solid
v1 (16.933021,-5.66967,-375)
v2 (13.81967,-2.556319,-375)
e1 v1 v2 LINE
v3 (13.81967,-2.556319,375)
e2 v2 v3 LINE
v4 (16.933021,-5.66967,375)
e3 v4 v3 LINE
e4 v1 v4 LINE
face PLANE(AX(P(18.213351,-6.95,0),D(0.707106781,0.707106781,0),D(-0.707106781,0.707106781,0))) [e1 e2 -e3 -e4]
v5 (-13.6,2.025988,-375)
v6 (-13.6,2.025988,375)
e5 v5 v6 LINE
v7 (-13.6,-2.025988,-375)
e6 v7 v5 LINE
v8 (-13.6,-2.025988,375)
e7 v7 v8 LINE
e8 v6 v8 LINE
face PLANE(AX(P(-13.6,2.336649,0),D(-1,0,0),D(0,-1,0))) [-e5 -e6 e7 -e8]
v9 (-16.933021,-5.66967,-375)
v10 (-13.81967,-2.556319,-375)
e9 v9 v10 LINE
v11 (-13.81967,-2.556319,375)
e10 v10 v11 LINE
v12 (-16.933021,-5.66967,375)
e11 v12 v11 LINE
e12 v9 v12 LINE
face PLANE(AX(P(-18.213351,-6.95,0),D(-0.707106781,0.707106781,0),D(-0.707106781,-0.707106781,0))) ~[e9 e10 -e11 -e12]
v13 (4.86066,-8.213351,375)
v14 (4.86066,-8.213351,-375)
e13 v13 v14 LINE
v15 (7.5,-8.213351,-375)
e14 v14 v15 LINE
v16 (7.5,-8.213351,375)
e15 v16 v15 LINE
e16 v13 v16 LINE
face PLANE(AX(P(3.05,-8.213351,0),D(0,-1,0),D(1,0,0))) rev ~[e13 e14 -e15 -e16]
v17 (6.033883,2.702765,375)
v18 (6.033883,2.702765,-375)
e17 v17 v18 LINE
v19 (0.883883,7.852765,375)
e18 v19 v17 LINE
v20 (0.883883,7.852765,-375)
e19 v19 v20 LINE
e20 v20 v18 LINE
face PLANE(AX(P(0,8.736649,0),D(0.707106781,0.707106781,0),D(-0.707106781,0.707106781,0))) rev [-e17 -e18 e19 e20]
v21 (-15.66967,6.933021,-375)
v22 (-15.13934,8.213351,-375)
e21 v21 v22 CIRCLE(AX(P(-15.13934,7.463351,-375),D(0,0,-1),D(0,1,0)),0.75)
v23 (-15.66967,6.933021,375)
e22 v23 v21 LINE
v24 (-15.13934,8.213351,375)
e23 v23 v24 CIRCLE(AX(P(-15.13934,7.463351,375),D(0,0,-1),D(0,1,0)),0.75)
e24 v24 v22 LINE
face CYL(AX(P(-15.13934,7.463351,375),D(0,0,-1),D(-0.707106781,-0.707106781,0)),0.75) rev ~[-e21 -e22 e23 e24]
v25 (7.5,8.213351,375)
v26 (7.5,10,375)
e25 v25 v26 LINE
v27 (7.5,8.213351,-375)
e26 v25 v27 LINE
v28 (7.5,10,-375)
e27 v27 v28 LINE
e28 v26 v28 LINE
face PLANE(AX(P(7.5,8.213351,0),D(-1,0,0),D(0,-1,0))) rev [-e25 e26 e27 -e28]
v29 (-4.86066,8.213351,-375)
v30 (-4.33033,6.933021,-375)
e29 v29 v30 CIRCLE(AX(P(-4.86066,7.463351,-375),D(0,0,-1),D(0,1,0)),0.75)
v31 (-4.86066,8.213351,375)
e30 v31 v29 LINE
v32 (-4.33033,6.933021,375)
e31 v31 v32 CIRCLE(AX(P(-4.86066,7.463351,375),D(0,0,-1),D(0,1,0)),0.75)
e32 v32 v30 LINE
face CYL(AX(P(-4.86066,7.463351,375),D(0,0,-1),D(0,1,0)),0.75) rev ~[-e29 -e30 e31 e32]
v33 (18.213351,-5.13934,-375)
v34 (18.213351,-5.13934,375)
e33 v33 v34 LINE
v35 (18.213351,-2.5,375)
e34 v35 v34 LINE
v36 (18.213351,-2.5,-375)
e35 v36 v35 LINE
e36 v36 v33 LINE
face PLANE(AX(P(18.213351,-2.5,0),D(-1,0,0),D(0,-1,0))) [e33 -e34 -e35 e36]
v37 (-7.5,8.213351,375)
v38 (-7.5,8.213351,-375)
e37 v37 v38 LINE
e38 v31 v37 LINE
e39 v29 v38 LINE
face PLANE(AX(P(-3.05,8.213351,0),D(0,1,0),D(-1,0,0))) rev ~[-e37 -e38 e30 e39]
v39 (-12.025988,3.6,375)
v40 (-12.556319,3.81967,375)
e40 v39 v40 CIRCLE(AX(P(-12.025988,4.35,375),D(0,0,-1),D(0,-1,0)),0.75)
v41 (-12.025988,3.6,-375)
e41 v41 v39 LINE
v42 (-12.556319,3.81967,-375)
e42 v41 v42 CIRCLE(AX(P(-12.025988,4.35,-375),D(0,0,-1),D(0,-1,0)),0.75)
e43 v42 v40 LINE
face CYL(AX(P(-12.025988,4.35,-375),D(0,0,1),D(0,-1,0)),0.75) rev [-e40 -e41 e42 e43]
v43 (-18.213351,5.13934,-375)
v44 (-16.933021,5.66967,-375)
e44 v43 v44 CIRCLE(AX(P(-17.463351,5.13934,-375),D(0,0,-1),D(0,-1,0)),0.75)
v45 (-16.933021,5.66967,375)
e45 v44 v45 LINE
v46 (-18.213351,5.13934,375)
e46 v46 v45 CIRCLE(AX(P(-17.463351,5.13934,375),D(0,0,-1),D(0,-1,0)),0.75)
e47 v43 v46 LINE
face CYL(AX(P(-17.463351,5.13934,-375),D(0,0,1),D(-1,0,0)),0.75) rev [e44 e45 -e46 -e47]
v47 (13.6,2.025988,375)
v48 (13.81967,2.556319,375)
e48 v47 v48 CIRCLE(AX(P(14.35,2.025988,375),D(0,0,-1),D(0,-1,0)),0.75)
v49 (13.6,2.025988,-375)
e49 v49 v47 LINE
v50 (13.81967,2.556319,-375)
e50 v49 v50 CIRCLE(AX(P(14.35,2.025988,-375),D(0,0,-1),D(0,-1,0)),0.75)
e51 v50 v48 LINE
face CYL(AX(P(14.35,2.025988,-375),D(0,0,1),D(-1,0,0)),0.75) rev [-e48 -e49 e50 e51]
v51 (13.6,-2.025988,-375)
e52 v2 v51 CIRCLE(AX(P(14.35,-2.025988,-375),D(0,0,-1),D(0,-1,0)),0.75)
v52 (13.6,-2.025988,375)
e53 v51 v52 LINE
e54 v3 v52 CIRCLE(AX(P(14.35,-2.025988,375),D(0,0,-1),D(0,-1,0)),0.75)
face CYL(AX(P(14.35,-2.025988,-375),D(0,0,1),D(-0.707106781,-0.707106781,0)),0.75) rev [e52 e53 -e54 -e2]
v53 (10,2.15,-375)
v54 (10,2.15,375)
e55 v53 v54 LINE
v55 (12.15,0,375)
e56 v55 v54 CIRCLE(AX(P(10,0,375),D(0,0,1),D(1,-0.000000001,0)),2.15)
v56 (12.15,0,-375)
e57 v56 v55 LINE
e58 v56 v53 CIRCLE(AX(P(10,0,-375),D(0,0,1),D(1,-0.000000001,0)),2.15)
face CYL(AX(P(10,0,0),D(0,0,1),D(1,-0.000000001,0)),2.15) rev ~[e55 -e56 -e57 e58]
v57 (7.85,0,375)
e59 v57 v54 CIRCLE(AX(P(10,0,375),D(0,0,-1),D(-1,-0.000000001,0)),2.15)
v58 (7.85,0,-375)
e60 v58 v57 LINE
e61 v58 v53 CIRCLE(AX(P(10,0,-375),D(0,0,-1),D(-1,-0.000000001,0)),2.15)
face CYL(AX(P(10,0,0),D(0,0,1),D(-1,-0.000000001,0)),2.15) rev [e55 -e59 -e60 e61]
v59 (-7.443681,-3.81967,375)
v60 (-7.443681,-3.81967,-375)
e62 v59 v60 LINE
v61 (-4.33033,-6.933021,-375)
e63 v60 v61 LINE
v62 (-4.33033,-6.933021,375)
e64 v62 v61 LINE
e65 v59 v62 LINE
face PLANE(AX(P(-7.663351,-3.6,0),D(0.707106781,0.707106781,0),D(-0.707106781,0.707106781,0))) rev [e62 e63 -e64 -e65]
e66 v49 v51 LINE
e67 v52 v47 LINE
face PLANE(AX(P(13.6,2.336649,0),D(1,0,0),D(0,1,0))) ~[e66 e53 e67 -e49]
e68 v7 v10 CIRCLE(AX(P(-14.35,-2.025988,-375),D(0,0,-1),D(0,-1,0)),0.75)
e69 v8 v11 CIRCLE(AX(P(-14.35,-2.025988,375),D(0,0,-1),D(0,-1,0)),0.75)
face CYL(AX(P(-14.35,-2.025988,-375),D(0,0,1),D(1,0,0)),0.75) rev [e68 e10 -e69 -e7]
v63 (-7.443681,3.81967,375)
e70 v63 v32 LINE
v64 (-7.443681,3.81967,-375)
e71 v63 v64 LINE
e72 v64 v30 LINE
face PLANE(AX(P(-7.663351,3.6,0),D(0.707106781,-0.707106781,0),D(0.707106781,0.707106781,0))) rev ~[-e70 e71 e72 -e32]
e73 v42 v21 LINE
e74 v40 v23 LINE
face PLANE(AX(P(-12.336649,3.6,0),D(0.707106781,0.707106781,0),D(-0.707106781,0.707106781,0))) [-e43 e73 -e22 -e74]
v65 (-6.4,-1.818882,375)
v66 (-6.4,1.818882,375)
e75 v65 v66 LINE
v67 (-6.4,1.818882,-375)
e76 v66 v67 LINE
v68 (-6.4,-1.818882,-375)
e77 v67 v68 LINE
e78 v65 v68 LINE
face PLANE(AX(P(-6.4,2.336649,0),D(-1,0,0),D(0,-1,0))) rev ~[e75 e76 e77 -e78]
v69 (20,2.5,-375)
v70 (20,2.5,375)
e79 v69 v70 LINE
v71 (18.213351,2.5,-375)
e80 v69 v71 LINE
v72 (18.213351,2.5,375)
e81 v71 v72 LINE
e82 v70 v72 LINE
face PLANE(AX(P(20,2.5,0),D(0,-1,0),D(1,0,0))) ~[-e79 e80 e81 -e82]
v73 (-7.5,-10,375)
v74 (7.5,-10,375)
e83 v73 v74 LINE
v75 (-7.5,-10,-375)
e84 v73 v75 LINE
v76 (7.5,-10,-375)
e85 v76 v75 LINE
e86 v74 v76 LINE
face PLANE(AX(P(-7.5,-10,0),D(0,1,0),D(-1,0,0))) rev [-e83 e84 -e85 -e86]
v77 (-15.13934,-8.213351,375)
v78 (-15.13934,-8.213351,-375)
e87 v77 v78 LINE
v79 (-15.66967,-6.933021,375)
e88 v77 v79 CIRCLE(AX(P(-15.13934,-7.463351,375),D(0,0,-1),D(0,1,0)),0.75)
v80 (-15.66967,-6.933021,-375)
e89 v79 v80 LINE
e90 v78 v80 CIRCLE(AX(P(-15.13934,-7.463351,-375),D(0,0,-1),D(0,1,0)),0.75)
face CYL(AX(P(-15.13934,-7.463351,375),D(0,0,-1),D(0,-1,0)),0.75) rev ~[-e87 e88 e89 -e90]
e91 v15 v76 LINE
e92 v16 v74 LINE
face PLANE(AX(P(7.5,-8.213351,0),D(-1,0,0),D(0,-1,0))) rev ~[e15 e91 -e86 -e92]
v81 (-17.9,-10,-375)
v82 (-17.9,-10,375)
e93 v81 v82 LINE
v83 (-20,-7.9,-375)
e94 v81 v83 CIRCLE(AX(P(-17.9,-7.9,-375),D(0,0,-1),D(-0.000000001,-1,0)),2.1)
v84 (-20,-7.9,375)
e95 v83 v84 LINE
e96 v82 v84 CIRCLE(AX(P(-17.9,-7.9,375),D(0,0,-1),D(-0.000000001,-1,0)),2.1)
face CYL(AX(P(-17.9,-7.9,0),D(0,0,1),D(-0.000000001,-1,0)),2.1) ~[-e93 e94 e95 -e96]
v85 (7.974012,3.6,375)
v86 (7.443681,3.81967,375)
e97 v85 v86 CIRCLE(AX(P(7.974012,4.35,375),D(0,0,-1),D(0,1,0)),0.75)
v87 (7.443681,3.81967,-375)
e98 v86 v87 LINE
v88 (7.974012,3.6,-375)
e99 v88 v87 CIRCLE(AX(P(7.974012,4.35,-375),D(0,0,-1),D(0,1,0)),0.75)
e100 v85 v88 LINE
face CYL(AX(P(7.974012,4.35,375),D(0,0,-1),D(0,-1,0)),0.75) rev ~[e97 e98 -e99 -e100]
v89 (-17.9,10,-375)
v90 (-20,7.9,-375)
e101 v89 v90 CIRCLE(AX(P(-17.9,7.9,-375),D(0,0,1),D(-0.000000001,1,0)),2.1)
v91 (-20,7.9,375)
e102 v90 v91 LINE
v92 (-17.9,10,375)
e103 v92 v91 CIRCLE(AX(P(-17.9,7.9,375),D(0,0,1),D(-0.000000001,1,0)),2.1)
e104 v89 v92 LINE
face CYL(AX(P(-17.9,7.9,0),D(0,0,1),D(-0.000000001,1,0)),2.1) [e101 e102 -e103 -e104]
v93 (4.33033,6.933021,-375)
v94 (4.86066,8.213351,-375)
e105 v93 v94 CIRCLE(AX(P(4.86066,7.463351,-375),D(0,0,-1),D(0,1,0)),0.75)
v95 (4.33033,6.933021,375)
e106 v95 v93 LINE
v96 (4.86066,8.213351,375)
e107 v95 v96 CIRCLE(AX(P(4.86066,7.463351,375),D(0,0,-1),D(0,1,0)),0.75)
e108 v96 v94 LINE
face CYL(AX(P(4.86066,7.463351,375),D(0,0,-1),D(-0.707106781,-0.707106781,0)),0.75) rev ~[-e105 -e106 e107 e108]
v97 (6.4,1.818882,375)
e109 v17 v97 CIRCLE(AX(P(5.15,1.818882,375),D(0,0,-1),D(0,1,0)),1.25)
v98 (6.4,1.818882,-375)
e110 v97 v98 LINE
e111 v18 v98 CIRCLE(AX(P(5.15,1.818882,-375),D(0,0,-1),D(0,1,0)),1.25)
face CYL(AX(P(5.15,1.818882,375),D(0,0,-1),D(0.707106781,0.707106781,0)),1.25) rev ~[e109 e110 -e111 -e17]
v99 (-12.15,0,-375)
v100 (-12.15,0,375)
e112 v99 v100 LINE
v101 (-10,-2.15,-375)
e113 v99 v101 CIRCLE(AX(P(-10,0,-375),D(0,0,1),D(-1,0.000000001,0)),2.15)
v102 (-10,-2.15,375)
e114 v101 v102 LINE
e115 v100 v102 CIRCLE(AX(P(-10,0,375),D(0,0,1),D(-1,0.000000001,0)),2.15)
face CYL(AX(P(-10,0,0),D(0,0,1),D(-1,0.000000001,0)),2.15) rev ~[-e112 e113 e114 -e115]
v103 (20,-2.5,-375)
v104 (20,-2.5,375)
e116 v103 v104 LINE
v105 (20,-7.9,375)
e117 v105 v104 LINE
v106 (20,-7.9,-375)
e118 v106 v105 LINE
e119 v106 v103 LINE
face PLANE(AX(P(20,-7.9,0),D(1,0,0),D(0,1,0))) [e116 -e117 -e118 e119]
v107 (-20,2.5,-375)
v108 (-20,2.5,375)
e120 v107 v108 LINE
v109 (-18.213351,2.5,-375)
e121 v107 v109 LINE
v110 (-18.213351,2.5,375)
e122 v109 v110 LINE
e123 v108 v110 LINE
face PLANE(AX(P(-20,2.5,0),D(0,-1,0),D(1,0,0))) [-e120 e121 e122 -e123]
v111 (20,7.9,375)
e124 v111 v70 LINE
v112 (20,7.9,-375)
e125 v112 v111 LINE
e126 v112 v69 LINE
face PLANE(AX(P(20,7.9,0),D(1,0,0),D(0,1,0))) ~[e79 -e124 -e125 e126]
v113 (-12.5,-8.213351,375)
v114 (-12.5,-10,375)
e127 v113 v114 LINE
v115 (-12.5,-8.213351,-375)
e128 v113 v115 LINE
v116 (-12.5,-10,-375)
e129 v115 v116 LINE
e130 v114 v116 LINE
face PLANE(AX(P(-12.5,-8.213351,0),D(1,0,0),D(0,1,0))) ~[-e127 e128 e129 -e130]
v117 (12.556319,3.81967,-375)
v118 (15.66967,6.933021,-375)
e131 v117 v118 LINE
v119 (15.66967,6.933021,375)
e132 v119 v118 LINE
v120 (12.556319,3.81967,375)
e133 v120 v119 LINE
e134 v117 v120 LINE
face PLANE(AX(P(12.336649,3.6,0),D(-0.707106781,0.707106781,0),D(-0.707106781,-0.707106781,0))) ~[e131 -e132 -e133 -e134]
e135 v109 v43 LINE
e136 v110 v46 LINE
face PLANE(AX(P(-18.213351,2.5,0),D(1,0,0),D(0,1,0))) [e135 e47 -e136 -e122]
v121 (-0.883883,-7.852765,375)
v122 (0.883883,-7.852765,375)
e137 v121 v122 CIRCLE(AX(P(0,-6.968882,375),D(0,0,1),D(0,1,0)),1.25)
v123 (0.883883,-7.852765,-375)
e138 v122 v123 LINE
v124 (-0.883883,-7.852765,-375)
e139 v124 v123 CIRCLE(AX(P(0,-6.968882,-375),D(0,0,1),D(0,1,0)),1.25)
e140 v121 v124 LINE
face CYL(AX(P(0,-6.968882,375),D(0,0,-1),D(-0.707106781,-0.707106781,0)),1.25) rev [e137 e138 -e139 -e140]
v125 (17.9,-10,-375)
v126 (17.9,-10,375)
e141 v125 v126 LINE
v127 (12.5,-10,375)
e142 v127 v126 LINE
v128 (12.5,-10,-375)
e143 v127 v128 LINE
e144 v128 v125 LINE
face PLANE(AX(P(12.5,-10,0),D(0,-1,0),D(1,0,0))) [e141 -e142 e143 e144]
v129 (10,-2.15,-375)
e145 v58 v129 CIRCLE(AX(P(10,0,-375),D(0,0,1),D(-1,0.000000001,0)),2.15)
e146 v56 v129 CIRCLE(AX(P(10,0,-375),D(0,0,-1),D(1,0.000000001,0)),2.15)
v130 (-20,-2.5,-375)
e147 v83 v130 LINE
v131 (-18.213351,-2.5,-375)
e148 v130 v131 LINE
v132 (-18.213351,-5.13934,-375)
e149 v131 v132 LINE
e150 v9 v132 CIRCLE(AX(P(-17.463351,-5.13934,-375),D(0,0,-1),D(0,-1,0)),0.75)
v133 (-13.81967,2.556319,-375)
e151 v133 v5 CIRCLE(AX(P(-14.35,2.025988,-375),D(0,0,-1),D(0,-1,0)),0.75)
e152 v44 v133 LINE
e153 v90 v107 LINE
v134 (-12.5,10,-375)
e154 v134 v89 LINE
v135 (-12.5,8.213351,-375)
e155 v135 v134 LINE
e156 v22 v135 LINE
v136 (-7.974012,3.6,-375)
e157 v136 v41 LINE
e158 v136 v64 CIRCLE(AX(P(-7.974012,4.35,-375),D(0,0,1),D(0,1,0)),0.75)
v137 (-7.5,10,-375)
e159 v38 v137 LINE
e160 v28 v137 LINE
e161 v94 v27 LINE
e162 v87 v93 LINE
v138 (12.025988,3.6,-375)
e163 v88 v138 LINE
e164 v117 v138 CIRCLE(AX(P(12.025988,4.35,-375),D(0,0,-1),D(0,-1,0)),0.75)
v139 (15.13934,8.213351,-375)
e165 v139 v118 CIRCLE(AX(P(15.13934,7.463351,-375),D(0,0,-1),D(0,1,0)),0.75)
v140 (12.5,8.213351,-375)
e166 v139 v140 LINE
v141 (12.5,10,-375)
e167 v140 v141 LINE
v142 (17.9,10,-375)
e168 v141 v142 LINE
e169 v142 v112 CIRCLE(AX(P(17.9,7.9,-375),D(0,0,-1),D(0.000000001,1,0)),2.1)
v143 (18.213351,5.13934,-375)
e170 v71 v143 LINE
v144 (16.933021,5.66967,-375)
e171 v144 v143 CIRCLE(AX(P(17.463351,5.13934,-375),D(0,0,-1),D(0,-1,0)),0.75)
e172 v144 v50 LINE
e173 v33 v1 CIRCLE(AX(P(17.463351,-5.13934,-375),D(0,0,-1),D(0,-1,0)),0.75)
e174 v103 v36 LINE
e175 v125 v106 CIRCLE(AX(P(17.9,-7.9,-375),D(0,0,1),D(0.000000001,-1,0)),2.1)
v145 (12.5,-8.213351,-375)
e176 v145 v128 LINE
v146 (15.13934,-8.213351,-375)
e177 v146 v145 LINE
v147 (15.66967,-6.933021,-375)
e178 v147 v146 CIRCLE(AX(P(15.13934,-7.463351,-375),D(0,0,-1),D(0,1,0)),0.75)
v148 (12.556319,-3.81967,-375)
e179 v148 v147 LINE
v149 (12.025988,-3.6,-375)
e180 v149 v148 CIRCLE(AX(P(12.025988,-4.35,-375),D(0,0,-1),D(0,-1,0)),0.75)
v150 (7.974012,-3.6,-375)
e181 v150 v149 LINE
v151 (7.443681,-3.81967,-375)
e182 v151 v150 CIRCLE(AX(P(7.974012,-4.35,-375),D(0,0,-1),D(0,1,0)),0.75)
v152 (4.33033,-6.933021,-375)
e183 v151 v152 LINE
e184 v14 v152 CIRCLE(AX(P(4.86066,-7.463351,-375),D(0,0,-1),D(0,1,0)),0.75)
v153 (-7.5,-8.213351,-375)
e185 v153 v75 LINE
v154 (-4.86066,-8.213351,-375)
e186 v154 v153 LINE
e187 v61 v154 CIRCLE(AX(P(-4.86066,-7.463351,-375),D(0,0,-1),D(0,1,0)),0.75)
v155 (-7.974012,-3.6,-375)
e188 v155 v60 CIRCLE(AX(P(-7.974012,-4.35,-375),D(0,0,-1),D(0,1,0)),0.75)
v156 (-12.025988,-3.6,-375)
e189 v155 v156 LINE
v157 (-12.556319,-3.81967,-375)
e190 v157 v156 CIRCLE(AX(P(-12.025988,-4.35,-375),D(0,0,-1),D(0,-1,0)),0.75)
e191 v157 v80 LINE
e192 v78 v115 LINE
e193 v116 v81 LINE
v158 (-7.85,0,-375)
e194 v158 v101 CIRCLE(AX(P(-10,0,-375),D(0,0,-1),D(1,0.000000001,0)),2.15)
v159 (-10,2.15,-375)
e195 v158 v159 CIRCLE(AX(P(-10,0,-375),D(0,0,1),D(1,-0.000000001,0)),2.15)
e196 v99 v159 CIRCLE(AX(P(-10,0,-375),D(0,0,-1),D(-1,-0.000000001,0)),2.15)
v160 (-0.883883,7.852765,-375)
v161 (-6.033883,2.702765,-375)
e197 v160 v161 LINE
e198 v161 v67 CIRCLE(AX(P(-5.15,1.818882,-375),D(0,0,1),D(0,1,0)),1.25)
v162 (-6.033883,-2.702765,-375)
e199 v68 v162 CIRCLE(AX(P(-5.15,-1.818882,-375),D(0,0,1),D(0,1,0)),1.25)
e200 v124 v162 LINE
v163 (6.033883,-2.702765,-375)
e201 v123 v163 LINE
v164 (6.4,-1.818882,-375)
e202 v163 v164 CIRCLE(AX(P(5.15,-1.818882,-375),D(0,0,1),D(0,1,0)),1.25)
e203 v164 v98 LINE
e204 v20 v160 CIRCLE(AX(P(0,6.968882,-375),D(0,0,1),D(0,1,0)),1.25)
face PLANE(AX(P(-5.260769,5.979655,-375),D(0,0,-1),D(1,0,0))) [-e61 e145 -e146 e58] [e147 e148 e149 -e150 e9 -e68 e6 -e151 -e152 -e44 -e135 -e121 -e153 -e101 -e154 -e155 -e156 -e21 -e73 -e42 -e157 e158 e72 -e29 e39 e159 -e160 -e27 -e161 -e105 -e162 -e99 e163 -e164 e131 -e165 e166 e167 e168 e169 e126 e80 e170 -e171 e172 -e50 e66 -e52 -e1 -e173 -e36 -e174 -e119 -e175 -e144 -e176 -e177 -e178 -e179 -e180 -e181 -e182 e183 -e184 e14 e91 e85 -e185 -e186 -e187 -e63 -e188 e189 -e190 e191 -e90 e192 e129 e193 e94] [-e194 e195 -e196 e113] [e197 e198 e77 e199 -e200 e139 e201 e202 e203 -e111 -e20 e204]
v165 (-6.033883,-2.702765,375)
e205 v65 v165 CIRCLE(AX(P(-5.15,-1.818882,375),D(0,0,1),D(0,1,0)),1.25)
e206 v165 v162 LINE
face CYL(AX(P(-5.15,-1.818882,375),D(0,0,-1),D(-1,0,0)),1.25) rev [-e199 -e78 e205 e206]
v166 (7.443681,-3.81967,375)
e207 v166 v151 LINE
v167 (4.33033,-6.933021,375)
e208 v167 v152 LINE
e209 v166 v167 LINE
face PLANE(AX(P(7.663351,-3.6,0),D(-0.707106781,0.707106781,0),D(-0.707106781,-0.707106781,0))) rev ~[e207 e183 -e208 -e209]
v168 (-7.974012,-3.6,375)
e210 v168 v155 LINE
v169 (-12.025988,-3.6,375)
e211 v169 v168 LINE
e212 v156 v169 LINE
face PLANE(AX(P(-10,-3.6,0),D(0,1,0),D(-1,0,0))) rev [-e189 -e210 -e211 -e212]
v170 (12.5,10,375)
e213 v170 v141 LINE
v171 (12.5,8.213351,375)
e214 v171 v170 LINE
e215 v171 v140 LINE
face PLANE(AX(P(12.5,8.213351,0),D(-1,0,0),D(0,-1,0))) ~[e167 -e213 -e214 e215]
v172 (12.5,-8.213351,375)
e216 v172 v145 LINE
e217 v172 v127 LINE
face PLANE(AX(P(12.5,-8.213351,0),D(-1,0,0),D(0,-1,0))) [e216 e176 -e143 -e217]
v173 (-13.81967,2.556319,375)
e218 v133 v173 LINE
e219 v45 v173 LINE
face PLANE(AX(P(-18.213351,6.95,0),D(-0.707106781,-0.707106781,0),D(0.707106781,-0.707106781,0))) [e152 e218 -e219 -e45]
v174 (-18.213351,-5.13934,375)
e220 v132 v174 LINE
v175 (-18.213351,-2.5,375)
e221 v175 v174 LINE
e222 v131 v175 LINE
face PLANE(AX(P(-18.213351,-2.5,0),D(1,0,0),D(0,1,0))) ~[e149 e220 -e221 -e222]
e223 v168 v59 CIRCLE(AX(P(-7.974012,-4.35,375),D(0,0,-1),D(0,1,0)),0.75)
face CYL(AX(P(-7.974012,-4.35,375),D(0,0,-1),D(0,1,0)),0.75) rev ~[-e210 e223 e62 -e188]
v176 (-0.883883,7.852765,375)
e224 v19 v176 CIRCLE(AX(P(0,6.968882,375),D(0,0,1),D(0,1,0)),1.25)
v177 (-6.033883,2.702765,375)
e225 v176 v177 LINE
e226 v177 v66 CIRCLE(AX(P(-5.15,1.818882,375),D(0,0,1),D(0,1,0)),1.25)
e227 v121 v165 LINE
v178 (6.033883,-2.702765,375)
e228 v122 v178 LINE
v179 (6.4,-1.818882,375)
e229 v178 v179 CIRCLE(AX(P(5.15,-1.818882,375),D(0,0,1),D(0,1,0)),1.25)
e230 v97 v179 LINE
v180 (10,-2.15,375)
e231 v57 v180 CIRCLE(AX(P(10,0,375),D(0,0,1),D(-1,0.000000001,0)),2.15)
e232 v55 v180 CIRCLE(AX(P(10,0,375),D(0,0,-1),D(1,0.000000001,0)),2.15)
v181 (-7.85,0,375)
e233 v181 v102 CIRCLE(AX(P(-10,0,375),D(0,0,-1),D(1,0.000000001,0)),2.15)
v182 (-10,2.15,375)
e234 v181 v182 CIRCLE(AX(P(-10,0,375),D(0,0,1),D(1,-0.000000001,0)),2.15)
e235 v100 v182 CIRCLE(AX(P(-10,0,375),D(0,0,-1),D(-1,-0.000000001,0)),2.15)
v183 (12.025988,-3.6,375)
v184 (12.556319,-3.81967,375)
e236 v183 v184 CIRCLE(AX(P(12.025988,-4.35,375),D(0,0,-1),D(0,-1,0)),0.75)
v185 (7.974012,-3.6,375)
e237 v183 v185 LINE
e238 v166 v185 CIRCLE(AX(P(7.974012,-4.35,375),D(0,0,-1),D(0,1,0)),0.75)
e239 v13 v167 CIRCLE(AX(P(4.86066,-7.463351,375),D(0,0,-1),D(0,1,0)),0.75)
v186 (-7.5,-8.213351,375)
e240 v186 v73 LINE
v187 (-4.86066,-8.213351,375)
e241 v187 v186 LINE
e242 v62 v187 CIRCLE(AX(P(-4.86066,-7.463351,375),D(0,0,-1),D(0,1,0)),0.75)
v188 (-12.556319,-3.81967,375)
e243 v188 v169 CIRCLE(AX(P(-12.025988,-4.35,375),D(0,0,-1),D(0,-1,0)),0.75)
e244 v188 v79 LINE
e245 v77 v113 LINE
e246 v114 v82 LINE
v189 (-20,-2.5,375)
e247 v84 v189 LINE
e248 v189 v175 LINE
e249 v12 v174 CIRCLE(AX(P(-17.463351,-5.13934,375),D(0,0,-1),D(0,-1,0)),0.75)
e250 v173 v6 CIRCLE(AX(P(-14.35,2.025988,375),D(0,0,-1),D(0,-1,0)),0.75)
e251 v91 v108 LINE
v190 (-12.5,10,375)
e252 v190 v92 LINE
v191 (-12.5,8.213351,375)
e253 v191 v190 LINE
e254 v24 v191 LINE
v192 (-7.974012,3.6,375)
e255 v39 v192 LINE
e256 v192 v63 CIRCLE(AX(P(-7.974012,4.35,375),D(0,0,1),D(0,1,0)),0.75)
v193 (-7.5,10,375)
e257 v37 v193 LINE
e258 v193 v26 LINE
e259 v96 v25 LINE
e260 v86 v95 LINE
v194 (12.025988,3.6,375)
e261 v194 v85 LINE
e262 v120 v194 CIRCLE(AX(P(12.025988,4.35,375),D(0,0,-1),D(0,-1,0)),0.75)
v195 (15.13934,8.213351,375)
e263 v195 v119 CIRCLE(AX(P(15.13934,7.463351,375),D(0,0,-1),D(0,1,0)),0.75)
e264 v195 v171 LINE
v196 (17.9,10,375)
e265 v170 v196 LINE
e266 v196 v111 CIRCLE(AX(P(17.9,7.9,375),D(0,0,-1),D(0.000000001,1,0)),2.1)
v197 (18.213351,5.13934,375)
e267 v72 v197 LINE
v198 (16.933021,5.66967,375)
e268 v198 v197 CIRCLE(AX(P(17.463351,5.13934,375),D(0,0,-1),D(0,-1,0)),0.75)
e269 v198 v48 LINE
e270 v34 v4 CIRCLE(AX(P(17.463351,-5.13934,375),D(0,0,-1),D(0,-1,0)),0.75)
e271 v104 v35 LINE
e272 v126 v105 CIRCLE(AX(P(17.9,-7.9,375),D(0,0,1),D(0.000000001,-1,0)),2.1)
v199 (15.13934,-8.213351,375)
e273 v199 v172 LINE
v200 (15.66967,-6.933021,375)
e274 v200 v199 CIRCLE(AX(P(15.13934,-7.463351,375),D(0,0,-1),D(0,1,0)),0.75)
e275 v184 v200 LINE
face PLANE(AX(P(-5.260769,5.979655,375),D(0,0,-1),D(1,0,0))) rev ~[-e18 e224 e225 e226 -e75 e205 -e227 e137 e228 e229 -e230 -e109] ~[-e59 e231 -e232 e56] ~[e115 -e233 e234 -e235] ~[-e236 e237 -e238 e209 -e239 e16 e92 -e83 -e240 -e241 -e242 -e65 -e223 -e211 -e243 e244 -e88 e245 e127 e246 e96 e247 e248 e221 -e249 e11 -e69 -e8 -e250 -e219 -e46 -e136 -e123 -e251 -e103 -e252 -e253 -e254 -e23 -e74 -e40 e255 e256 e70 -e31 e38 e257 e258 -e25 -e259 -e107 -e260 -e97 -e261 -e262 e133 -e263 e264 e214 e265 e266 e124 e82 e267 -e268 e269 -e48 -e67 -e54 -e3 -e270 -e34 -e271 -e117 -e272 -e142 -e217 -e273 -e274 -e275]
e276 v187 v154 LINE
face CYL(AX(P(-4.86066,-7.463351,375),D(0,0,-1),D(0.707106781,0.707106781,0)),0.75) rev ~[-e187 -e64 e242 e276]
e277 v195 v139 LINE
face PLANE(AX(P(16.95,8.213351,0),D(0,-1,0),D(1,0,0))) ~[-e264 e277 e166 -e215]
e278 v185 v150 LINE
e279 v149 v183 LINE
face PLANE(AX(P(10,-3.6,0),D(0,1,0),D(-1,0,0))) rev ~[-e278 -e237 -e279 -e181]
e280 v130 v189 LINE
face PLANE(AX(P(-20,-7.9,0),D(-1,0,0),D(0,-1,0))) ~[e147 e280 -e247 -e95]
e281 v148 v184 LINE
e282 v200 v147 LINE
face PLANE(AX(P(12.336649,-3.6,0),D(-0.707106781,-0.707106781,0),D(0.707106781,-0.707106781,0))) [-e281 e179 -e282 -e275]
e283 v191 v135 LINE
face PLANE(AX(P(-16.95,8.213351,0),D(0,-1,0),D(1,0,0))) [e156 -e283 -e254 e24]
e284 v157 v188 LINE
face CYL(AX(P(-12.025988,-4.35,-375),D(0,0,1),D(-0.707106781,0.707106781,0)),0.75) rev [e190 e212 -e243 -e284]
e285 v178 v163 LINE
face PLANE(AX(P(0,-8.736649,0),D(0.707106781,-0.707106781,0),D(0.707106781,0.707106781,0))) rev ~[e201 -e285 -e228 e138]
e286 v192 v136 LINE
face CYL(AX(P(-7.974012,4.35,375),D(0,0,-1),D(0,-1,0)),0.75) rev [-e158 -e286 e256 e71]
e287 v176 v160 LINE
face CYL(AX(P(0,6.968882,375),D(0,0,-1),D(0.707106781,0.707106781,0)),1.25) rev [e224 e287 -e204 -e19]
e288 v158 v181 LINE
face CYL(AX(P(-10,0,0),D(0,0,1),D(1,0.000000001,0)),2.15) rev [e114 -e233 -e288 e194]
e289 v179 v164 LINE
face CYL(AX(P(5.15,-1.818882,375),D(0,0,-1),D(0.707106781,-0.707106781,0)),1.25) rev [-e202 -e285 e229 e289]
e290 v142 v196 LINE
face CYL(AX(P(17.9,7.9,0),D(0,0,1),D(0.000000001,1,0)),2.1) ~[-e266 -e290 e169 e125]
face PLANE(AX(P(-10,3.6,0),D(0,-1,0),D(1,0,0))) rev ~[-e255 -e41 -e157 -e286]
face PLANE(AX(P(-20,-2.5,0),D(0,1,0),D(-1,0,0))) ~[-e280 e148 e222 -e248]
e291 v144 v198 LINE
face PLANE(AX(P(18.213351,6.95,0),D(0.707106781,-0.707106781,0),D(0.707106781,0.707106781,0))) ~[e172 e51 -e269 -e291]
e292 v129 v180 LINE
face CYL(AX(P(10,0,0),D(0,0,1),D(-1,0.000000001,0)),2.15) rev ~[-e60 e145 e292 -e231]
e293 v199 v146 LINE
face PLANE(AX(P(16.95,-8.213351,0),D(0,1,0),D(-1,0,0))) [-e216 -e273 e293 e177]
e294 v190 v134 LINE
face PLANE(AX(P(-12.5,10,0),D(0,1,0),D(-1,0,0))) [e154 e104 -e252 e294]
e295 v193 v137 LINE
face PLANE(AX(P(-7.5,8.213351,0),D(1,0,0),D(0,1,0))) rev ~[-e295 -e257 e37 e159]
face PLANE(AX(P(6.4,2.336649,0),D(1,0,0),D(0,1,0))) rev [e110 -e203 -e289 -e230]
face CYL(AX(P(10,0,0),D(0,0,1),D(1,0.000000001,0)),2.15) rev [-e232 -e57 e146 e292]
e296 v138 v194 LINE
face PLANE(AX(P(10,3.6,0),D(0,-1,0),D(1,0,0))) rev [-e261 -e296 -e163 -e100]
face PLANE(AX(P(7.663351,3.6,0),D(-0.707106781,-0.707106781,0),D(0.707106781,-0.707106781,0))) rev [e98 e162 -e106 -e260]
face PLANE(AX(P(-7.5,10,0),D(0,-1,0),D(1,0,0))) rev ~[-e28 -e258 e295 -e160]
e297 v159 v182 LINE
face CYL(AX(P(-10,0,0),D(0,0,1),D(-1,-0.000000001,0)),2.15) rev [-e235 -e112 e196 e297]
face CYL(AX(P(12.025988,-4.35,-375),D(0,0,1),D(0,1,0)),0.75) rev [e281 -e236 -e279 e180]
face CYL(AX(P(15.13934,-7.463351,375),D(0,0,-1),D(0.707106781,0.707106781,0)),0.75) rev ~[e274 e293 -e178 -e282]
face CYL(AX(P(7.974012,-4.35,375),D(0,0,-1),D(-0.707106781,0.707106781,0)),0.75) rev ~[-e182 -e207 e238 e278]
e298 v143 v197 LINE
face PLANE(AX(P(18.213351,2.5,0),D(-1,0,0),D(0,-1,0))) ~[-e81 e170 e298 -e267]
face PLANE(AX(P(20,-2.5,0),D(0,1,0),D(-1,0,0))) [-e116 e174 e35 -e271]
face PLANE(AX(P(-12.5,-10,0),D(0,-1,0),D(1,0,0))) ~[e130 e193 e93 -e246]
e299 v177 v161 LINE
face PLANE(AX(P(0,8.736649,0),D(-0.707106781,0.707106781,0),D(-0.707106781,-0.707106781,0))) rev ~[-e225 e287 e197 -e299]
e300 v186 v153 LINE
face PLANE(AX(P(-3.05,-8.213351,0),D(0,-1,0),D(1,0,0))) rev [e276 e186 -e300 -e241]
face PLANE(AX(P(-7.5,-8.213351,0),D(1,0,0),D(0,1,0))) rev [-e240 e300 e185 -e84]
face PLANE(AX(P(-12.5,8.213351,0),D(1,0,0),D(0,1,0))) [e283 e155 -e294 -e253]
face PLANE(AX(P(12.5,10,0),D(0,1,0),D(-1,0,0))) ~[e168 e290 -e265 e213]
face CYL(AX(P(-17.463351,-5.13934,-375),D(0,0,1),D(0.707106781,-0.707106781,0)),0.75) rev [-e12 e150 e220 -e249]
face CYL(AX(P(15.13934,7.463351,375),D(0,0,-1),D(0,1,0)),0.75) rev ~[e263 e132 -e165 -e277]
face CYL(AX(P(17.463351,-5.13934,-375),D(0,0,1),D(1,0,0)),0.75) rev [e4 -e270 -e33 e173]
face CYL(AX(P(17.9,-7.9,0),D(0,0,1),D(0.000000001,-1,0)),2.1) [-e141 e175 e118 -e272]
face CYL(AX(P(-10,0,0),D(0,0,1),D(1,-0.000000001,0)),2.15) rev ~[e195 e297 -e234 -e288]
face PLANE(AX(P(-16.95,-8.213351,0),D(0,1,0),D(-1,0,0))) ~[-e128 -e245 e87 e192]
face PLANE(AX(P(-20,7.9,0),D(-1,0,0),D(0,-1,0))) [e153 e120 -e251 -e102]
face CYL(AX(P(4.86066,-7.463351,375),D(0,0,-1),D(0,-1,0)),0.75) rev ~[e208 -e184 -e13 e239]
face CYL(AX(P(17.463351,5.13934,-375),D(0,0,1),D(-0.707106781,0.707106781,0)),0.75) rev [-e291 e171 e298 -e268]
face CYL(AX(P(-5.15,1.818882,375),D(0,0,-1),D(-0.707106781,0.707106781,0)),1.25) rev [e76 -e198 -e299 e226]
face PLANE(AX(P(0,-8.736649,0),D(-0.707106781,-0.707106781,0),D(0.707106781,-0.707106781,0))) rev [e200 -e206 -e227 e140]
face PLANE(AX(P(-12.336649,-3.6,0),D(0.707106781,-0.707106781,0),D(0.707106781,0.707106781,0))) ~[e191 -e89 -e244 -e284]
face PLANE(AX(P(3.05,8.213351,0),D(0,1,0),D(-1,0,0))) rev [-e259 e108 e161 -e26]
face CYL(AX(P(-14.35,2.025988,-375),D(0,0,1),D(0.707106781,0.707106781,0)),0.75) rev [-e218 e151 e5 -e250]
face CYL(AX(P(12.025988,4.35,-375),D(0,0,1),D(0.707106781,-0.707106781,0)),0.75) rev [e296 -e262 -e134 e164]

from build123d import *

# Parameters (mm, degrees)
BOSS_EXTRUDE1_DEPTH = 375
BOSS_EXTRUDE2_DEPTH = 375
FILLET1_R           = 0.75
FILLET2_R           = 1.25


with BuildPart() as part:
    # Sketch3 → Boss-Extrude1 (new, symmetric)
    with BuildSketch(Plane.XY):
        with BuildLine():
            Line((12.5, -10), (17.9, -10))
            ThreePointArc((17.9, -10), (19.38492424, -9.38492424), (20, -7.9))
            Line((20, -7.9), (20, -2.5))
            Line((20, -2.5), (18.213351365, -2.5))
            Line((18.213351365, -2.5), (18.213351365, -6.95))
            Line((18.213351365, -6.95), (13.6, -2.336648635))
            Line((13.6, -2.336648635), (13.6, 0))
            Line((13.6, 0), (12.15, 0))
            ThreePointArc((12.15, 0), (11.52027958, -1.52027958), (10, -2.15))
            Line((10, -2.15), (10, -3.6))
            Line((10, -3.6), (12.336648635, -3.6))
            Line((12.336648635, -3.6), (16.95, -8.213351365))
            Line((16.95, -8.213351365), (12.5, -8.213351365))
            Line((12.5, -8.213351365), (12.5, -10))
        make_face()
    extrude(amount=BOSS_EXTRUDE1_DEPTH, both=True)

    # Sketch4 → Boss-Extrude2 (add, symmetric)
    with BuildSketch(Plane.XY):
        with BuildLine():
            Line((10, -3.6), (7.663351365, -3.6))
            Line((7.663351365, -3.6), (3.05, -8.213351365))
            Line((3.05, -8.213351365), (7.5, -8.213351365))
            Line((7.5, -8.213351365), (7.5, -10))
            Line((7.5, -10), (0, -10))
            Line((0, -10), (0, -8.736648635))
            Line((0, -8.736648635), (6.4, -2.336648635))
            Line((6.4, -2.336648635), (6.4, 0))
            Line((6.4, 0), (7.85, 0))
            ThreePointArc((7.85, 0), (8.47972042, -1.52027958), (10, -2.15))
            Line((10, -2.15), (10, -3.6))
        make_face()
    extrude(amount=BOSS_EXTRUDE2_DEPTH, both=True)

    # Mirror1: part across plane


with BuildPart() as part_1:
    add(part.part)
    add(part.part.mirror(Plane(origin=(0, 0, 0), x_dir=(0, 0, 1), z_dir=(1, 0, 0))))

    # Mirror2: part across plane


with BuildPart() as part_2:
    add(part_1.part)
    add(part_1.part.mirror(Plane.ZX))

    # Fillet1
    fillet1_edges = [part_2.edges().sort_by_distance(p)[0] for p in [
        (18.213351365, 6.95, 0),
        (13.6, 2.336648635, 0),
        (12.336648635, 3.6, 0),
        (16.95, 8.213351365, 0),
        (3.05, 8.213351365, 0),
        (7.663351365, 3.6, 0),
        (-18.213351365, 6.95, 0),
        (-13.6, 2.336648635, 0),
        (-7.663351365, 3.6, 0),
        (-12.336648635, 3.6, 0),
        (-16.95, 8.213351365, 0),
        (-3.05, 8.213351365, 0),
        (16.95, -8.213351365, 0),
        (12.336648635, -3.6, 0),
        (13.6, -2.336648635, 0),
        (18.213351365, -6.95, 0),
        (3.05, -8.213351365, 0),
        (7.663351365, -3.6, 0),
        (-18.213351365, -6.95, 0),
        (-13.6, -2.336648635, 0),
        (-12.336648635, -3.6, 0),
        (-16.95, -8.213351365, 0),
        (-3.05, -8.213351365, 0),
        (-7.663351365, -3.6, 0),
    ]]
    fillet(fillet1_edges, radius=FILLET1_R)

    # Fillet2
    fillet2_edges = [part_2.edges().sort_by_distance(p)[0] for p in [
        (6.4, 2.336648635, 0),
        (0, 8.736648635, 0),
        (-6.4, 2.336648635, 0),
        (6.4, -2.336648635, 0),
        (-6.4, -2.336648635, 0),
        (0, -8.736648635, 0),
    ]]
    fillet(fillet2_edges, radius=FILLET2_R)


solid = part_2.part
